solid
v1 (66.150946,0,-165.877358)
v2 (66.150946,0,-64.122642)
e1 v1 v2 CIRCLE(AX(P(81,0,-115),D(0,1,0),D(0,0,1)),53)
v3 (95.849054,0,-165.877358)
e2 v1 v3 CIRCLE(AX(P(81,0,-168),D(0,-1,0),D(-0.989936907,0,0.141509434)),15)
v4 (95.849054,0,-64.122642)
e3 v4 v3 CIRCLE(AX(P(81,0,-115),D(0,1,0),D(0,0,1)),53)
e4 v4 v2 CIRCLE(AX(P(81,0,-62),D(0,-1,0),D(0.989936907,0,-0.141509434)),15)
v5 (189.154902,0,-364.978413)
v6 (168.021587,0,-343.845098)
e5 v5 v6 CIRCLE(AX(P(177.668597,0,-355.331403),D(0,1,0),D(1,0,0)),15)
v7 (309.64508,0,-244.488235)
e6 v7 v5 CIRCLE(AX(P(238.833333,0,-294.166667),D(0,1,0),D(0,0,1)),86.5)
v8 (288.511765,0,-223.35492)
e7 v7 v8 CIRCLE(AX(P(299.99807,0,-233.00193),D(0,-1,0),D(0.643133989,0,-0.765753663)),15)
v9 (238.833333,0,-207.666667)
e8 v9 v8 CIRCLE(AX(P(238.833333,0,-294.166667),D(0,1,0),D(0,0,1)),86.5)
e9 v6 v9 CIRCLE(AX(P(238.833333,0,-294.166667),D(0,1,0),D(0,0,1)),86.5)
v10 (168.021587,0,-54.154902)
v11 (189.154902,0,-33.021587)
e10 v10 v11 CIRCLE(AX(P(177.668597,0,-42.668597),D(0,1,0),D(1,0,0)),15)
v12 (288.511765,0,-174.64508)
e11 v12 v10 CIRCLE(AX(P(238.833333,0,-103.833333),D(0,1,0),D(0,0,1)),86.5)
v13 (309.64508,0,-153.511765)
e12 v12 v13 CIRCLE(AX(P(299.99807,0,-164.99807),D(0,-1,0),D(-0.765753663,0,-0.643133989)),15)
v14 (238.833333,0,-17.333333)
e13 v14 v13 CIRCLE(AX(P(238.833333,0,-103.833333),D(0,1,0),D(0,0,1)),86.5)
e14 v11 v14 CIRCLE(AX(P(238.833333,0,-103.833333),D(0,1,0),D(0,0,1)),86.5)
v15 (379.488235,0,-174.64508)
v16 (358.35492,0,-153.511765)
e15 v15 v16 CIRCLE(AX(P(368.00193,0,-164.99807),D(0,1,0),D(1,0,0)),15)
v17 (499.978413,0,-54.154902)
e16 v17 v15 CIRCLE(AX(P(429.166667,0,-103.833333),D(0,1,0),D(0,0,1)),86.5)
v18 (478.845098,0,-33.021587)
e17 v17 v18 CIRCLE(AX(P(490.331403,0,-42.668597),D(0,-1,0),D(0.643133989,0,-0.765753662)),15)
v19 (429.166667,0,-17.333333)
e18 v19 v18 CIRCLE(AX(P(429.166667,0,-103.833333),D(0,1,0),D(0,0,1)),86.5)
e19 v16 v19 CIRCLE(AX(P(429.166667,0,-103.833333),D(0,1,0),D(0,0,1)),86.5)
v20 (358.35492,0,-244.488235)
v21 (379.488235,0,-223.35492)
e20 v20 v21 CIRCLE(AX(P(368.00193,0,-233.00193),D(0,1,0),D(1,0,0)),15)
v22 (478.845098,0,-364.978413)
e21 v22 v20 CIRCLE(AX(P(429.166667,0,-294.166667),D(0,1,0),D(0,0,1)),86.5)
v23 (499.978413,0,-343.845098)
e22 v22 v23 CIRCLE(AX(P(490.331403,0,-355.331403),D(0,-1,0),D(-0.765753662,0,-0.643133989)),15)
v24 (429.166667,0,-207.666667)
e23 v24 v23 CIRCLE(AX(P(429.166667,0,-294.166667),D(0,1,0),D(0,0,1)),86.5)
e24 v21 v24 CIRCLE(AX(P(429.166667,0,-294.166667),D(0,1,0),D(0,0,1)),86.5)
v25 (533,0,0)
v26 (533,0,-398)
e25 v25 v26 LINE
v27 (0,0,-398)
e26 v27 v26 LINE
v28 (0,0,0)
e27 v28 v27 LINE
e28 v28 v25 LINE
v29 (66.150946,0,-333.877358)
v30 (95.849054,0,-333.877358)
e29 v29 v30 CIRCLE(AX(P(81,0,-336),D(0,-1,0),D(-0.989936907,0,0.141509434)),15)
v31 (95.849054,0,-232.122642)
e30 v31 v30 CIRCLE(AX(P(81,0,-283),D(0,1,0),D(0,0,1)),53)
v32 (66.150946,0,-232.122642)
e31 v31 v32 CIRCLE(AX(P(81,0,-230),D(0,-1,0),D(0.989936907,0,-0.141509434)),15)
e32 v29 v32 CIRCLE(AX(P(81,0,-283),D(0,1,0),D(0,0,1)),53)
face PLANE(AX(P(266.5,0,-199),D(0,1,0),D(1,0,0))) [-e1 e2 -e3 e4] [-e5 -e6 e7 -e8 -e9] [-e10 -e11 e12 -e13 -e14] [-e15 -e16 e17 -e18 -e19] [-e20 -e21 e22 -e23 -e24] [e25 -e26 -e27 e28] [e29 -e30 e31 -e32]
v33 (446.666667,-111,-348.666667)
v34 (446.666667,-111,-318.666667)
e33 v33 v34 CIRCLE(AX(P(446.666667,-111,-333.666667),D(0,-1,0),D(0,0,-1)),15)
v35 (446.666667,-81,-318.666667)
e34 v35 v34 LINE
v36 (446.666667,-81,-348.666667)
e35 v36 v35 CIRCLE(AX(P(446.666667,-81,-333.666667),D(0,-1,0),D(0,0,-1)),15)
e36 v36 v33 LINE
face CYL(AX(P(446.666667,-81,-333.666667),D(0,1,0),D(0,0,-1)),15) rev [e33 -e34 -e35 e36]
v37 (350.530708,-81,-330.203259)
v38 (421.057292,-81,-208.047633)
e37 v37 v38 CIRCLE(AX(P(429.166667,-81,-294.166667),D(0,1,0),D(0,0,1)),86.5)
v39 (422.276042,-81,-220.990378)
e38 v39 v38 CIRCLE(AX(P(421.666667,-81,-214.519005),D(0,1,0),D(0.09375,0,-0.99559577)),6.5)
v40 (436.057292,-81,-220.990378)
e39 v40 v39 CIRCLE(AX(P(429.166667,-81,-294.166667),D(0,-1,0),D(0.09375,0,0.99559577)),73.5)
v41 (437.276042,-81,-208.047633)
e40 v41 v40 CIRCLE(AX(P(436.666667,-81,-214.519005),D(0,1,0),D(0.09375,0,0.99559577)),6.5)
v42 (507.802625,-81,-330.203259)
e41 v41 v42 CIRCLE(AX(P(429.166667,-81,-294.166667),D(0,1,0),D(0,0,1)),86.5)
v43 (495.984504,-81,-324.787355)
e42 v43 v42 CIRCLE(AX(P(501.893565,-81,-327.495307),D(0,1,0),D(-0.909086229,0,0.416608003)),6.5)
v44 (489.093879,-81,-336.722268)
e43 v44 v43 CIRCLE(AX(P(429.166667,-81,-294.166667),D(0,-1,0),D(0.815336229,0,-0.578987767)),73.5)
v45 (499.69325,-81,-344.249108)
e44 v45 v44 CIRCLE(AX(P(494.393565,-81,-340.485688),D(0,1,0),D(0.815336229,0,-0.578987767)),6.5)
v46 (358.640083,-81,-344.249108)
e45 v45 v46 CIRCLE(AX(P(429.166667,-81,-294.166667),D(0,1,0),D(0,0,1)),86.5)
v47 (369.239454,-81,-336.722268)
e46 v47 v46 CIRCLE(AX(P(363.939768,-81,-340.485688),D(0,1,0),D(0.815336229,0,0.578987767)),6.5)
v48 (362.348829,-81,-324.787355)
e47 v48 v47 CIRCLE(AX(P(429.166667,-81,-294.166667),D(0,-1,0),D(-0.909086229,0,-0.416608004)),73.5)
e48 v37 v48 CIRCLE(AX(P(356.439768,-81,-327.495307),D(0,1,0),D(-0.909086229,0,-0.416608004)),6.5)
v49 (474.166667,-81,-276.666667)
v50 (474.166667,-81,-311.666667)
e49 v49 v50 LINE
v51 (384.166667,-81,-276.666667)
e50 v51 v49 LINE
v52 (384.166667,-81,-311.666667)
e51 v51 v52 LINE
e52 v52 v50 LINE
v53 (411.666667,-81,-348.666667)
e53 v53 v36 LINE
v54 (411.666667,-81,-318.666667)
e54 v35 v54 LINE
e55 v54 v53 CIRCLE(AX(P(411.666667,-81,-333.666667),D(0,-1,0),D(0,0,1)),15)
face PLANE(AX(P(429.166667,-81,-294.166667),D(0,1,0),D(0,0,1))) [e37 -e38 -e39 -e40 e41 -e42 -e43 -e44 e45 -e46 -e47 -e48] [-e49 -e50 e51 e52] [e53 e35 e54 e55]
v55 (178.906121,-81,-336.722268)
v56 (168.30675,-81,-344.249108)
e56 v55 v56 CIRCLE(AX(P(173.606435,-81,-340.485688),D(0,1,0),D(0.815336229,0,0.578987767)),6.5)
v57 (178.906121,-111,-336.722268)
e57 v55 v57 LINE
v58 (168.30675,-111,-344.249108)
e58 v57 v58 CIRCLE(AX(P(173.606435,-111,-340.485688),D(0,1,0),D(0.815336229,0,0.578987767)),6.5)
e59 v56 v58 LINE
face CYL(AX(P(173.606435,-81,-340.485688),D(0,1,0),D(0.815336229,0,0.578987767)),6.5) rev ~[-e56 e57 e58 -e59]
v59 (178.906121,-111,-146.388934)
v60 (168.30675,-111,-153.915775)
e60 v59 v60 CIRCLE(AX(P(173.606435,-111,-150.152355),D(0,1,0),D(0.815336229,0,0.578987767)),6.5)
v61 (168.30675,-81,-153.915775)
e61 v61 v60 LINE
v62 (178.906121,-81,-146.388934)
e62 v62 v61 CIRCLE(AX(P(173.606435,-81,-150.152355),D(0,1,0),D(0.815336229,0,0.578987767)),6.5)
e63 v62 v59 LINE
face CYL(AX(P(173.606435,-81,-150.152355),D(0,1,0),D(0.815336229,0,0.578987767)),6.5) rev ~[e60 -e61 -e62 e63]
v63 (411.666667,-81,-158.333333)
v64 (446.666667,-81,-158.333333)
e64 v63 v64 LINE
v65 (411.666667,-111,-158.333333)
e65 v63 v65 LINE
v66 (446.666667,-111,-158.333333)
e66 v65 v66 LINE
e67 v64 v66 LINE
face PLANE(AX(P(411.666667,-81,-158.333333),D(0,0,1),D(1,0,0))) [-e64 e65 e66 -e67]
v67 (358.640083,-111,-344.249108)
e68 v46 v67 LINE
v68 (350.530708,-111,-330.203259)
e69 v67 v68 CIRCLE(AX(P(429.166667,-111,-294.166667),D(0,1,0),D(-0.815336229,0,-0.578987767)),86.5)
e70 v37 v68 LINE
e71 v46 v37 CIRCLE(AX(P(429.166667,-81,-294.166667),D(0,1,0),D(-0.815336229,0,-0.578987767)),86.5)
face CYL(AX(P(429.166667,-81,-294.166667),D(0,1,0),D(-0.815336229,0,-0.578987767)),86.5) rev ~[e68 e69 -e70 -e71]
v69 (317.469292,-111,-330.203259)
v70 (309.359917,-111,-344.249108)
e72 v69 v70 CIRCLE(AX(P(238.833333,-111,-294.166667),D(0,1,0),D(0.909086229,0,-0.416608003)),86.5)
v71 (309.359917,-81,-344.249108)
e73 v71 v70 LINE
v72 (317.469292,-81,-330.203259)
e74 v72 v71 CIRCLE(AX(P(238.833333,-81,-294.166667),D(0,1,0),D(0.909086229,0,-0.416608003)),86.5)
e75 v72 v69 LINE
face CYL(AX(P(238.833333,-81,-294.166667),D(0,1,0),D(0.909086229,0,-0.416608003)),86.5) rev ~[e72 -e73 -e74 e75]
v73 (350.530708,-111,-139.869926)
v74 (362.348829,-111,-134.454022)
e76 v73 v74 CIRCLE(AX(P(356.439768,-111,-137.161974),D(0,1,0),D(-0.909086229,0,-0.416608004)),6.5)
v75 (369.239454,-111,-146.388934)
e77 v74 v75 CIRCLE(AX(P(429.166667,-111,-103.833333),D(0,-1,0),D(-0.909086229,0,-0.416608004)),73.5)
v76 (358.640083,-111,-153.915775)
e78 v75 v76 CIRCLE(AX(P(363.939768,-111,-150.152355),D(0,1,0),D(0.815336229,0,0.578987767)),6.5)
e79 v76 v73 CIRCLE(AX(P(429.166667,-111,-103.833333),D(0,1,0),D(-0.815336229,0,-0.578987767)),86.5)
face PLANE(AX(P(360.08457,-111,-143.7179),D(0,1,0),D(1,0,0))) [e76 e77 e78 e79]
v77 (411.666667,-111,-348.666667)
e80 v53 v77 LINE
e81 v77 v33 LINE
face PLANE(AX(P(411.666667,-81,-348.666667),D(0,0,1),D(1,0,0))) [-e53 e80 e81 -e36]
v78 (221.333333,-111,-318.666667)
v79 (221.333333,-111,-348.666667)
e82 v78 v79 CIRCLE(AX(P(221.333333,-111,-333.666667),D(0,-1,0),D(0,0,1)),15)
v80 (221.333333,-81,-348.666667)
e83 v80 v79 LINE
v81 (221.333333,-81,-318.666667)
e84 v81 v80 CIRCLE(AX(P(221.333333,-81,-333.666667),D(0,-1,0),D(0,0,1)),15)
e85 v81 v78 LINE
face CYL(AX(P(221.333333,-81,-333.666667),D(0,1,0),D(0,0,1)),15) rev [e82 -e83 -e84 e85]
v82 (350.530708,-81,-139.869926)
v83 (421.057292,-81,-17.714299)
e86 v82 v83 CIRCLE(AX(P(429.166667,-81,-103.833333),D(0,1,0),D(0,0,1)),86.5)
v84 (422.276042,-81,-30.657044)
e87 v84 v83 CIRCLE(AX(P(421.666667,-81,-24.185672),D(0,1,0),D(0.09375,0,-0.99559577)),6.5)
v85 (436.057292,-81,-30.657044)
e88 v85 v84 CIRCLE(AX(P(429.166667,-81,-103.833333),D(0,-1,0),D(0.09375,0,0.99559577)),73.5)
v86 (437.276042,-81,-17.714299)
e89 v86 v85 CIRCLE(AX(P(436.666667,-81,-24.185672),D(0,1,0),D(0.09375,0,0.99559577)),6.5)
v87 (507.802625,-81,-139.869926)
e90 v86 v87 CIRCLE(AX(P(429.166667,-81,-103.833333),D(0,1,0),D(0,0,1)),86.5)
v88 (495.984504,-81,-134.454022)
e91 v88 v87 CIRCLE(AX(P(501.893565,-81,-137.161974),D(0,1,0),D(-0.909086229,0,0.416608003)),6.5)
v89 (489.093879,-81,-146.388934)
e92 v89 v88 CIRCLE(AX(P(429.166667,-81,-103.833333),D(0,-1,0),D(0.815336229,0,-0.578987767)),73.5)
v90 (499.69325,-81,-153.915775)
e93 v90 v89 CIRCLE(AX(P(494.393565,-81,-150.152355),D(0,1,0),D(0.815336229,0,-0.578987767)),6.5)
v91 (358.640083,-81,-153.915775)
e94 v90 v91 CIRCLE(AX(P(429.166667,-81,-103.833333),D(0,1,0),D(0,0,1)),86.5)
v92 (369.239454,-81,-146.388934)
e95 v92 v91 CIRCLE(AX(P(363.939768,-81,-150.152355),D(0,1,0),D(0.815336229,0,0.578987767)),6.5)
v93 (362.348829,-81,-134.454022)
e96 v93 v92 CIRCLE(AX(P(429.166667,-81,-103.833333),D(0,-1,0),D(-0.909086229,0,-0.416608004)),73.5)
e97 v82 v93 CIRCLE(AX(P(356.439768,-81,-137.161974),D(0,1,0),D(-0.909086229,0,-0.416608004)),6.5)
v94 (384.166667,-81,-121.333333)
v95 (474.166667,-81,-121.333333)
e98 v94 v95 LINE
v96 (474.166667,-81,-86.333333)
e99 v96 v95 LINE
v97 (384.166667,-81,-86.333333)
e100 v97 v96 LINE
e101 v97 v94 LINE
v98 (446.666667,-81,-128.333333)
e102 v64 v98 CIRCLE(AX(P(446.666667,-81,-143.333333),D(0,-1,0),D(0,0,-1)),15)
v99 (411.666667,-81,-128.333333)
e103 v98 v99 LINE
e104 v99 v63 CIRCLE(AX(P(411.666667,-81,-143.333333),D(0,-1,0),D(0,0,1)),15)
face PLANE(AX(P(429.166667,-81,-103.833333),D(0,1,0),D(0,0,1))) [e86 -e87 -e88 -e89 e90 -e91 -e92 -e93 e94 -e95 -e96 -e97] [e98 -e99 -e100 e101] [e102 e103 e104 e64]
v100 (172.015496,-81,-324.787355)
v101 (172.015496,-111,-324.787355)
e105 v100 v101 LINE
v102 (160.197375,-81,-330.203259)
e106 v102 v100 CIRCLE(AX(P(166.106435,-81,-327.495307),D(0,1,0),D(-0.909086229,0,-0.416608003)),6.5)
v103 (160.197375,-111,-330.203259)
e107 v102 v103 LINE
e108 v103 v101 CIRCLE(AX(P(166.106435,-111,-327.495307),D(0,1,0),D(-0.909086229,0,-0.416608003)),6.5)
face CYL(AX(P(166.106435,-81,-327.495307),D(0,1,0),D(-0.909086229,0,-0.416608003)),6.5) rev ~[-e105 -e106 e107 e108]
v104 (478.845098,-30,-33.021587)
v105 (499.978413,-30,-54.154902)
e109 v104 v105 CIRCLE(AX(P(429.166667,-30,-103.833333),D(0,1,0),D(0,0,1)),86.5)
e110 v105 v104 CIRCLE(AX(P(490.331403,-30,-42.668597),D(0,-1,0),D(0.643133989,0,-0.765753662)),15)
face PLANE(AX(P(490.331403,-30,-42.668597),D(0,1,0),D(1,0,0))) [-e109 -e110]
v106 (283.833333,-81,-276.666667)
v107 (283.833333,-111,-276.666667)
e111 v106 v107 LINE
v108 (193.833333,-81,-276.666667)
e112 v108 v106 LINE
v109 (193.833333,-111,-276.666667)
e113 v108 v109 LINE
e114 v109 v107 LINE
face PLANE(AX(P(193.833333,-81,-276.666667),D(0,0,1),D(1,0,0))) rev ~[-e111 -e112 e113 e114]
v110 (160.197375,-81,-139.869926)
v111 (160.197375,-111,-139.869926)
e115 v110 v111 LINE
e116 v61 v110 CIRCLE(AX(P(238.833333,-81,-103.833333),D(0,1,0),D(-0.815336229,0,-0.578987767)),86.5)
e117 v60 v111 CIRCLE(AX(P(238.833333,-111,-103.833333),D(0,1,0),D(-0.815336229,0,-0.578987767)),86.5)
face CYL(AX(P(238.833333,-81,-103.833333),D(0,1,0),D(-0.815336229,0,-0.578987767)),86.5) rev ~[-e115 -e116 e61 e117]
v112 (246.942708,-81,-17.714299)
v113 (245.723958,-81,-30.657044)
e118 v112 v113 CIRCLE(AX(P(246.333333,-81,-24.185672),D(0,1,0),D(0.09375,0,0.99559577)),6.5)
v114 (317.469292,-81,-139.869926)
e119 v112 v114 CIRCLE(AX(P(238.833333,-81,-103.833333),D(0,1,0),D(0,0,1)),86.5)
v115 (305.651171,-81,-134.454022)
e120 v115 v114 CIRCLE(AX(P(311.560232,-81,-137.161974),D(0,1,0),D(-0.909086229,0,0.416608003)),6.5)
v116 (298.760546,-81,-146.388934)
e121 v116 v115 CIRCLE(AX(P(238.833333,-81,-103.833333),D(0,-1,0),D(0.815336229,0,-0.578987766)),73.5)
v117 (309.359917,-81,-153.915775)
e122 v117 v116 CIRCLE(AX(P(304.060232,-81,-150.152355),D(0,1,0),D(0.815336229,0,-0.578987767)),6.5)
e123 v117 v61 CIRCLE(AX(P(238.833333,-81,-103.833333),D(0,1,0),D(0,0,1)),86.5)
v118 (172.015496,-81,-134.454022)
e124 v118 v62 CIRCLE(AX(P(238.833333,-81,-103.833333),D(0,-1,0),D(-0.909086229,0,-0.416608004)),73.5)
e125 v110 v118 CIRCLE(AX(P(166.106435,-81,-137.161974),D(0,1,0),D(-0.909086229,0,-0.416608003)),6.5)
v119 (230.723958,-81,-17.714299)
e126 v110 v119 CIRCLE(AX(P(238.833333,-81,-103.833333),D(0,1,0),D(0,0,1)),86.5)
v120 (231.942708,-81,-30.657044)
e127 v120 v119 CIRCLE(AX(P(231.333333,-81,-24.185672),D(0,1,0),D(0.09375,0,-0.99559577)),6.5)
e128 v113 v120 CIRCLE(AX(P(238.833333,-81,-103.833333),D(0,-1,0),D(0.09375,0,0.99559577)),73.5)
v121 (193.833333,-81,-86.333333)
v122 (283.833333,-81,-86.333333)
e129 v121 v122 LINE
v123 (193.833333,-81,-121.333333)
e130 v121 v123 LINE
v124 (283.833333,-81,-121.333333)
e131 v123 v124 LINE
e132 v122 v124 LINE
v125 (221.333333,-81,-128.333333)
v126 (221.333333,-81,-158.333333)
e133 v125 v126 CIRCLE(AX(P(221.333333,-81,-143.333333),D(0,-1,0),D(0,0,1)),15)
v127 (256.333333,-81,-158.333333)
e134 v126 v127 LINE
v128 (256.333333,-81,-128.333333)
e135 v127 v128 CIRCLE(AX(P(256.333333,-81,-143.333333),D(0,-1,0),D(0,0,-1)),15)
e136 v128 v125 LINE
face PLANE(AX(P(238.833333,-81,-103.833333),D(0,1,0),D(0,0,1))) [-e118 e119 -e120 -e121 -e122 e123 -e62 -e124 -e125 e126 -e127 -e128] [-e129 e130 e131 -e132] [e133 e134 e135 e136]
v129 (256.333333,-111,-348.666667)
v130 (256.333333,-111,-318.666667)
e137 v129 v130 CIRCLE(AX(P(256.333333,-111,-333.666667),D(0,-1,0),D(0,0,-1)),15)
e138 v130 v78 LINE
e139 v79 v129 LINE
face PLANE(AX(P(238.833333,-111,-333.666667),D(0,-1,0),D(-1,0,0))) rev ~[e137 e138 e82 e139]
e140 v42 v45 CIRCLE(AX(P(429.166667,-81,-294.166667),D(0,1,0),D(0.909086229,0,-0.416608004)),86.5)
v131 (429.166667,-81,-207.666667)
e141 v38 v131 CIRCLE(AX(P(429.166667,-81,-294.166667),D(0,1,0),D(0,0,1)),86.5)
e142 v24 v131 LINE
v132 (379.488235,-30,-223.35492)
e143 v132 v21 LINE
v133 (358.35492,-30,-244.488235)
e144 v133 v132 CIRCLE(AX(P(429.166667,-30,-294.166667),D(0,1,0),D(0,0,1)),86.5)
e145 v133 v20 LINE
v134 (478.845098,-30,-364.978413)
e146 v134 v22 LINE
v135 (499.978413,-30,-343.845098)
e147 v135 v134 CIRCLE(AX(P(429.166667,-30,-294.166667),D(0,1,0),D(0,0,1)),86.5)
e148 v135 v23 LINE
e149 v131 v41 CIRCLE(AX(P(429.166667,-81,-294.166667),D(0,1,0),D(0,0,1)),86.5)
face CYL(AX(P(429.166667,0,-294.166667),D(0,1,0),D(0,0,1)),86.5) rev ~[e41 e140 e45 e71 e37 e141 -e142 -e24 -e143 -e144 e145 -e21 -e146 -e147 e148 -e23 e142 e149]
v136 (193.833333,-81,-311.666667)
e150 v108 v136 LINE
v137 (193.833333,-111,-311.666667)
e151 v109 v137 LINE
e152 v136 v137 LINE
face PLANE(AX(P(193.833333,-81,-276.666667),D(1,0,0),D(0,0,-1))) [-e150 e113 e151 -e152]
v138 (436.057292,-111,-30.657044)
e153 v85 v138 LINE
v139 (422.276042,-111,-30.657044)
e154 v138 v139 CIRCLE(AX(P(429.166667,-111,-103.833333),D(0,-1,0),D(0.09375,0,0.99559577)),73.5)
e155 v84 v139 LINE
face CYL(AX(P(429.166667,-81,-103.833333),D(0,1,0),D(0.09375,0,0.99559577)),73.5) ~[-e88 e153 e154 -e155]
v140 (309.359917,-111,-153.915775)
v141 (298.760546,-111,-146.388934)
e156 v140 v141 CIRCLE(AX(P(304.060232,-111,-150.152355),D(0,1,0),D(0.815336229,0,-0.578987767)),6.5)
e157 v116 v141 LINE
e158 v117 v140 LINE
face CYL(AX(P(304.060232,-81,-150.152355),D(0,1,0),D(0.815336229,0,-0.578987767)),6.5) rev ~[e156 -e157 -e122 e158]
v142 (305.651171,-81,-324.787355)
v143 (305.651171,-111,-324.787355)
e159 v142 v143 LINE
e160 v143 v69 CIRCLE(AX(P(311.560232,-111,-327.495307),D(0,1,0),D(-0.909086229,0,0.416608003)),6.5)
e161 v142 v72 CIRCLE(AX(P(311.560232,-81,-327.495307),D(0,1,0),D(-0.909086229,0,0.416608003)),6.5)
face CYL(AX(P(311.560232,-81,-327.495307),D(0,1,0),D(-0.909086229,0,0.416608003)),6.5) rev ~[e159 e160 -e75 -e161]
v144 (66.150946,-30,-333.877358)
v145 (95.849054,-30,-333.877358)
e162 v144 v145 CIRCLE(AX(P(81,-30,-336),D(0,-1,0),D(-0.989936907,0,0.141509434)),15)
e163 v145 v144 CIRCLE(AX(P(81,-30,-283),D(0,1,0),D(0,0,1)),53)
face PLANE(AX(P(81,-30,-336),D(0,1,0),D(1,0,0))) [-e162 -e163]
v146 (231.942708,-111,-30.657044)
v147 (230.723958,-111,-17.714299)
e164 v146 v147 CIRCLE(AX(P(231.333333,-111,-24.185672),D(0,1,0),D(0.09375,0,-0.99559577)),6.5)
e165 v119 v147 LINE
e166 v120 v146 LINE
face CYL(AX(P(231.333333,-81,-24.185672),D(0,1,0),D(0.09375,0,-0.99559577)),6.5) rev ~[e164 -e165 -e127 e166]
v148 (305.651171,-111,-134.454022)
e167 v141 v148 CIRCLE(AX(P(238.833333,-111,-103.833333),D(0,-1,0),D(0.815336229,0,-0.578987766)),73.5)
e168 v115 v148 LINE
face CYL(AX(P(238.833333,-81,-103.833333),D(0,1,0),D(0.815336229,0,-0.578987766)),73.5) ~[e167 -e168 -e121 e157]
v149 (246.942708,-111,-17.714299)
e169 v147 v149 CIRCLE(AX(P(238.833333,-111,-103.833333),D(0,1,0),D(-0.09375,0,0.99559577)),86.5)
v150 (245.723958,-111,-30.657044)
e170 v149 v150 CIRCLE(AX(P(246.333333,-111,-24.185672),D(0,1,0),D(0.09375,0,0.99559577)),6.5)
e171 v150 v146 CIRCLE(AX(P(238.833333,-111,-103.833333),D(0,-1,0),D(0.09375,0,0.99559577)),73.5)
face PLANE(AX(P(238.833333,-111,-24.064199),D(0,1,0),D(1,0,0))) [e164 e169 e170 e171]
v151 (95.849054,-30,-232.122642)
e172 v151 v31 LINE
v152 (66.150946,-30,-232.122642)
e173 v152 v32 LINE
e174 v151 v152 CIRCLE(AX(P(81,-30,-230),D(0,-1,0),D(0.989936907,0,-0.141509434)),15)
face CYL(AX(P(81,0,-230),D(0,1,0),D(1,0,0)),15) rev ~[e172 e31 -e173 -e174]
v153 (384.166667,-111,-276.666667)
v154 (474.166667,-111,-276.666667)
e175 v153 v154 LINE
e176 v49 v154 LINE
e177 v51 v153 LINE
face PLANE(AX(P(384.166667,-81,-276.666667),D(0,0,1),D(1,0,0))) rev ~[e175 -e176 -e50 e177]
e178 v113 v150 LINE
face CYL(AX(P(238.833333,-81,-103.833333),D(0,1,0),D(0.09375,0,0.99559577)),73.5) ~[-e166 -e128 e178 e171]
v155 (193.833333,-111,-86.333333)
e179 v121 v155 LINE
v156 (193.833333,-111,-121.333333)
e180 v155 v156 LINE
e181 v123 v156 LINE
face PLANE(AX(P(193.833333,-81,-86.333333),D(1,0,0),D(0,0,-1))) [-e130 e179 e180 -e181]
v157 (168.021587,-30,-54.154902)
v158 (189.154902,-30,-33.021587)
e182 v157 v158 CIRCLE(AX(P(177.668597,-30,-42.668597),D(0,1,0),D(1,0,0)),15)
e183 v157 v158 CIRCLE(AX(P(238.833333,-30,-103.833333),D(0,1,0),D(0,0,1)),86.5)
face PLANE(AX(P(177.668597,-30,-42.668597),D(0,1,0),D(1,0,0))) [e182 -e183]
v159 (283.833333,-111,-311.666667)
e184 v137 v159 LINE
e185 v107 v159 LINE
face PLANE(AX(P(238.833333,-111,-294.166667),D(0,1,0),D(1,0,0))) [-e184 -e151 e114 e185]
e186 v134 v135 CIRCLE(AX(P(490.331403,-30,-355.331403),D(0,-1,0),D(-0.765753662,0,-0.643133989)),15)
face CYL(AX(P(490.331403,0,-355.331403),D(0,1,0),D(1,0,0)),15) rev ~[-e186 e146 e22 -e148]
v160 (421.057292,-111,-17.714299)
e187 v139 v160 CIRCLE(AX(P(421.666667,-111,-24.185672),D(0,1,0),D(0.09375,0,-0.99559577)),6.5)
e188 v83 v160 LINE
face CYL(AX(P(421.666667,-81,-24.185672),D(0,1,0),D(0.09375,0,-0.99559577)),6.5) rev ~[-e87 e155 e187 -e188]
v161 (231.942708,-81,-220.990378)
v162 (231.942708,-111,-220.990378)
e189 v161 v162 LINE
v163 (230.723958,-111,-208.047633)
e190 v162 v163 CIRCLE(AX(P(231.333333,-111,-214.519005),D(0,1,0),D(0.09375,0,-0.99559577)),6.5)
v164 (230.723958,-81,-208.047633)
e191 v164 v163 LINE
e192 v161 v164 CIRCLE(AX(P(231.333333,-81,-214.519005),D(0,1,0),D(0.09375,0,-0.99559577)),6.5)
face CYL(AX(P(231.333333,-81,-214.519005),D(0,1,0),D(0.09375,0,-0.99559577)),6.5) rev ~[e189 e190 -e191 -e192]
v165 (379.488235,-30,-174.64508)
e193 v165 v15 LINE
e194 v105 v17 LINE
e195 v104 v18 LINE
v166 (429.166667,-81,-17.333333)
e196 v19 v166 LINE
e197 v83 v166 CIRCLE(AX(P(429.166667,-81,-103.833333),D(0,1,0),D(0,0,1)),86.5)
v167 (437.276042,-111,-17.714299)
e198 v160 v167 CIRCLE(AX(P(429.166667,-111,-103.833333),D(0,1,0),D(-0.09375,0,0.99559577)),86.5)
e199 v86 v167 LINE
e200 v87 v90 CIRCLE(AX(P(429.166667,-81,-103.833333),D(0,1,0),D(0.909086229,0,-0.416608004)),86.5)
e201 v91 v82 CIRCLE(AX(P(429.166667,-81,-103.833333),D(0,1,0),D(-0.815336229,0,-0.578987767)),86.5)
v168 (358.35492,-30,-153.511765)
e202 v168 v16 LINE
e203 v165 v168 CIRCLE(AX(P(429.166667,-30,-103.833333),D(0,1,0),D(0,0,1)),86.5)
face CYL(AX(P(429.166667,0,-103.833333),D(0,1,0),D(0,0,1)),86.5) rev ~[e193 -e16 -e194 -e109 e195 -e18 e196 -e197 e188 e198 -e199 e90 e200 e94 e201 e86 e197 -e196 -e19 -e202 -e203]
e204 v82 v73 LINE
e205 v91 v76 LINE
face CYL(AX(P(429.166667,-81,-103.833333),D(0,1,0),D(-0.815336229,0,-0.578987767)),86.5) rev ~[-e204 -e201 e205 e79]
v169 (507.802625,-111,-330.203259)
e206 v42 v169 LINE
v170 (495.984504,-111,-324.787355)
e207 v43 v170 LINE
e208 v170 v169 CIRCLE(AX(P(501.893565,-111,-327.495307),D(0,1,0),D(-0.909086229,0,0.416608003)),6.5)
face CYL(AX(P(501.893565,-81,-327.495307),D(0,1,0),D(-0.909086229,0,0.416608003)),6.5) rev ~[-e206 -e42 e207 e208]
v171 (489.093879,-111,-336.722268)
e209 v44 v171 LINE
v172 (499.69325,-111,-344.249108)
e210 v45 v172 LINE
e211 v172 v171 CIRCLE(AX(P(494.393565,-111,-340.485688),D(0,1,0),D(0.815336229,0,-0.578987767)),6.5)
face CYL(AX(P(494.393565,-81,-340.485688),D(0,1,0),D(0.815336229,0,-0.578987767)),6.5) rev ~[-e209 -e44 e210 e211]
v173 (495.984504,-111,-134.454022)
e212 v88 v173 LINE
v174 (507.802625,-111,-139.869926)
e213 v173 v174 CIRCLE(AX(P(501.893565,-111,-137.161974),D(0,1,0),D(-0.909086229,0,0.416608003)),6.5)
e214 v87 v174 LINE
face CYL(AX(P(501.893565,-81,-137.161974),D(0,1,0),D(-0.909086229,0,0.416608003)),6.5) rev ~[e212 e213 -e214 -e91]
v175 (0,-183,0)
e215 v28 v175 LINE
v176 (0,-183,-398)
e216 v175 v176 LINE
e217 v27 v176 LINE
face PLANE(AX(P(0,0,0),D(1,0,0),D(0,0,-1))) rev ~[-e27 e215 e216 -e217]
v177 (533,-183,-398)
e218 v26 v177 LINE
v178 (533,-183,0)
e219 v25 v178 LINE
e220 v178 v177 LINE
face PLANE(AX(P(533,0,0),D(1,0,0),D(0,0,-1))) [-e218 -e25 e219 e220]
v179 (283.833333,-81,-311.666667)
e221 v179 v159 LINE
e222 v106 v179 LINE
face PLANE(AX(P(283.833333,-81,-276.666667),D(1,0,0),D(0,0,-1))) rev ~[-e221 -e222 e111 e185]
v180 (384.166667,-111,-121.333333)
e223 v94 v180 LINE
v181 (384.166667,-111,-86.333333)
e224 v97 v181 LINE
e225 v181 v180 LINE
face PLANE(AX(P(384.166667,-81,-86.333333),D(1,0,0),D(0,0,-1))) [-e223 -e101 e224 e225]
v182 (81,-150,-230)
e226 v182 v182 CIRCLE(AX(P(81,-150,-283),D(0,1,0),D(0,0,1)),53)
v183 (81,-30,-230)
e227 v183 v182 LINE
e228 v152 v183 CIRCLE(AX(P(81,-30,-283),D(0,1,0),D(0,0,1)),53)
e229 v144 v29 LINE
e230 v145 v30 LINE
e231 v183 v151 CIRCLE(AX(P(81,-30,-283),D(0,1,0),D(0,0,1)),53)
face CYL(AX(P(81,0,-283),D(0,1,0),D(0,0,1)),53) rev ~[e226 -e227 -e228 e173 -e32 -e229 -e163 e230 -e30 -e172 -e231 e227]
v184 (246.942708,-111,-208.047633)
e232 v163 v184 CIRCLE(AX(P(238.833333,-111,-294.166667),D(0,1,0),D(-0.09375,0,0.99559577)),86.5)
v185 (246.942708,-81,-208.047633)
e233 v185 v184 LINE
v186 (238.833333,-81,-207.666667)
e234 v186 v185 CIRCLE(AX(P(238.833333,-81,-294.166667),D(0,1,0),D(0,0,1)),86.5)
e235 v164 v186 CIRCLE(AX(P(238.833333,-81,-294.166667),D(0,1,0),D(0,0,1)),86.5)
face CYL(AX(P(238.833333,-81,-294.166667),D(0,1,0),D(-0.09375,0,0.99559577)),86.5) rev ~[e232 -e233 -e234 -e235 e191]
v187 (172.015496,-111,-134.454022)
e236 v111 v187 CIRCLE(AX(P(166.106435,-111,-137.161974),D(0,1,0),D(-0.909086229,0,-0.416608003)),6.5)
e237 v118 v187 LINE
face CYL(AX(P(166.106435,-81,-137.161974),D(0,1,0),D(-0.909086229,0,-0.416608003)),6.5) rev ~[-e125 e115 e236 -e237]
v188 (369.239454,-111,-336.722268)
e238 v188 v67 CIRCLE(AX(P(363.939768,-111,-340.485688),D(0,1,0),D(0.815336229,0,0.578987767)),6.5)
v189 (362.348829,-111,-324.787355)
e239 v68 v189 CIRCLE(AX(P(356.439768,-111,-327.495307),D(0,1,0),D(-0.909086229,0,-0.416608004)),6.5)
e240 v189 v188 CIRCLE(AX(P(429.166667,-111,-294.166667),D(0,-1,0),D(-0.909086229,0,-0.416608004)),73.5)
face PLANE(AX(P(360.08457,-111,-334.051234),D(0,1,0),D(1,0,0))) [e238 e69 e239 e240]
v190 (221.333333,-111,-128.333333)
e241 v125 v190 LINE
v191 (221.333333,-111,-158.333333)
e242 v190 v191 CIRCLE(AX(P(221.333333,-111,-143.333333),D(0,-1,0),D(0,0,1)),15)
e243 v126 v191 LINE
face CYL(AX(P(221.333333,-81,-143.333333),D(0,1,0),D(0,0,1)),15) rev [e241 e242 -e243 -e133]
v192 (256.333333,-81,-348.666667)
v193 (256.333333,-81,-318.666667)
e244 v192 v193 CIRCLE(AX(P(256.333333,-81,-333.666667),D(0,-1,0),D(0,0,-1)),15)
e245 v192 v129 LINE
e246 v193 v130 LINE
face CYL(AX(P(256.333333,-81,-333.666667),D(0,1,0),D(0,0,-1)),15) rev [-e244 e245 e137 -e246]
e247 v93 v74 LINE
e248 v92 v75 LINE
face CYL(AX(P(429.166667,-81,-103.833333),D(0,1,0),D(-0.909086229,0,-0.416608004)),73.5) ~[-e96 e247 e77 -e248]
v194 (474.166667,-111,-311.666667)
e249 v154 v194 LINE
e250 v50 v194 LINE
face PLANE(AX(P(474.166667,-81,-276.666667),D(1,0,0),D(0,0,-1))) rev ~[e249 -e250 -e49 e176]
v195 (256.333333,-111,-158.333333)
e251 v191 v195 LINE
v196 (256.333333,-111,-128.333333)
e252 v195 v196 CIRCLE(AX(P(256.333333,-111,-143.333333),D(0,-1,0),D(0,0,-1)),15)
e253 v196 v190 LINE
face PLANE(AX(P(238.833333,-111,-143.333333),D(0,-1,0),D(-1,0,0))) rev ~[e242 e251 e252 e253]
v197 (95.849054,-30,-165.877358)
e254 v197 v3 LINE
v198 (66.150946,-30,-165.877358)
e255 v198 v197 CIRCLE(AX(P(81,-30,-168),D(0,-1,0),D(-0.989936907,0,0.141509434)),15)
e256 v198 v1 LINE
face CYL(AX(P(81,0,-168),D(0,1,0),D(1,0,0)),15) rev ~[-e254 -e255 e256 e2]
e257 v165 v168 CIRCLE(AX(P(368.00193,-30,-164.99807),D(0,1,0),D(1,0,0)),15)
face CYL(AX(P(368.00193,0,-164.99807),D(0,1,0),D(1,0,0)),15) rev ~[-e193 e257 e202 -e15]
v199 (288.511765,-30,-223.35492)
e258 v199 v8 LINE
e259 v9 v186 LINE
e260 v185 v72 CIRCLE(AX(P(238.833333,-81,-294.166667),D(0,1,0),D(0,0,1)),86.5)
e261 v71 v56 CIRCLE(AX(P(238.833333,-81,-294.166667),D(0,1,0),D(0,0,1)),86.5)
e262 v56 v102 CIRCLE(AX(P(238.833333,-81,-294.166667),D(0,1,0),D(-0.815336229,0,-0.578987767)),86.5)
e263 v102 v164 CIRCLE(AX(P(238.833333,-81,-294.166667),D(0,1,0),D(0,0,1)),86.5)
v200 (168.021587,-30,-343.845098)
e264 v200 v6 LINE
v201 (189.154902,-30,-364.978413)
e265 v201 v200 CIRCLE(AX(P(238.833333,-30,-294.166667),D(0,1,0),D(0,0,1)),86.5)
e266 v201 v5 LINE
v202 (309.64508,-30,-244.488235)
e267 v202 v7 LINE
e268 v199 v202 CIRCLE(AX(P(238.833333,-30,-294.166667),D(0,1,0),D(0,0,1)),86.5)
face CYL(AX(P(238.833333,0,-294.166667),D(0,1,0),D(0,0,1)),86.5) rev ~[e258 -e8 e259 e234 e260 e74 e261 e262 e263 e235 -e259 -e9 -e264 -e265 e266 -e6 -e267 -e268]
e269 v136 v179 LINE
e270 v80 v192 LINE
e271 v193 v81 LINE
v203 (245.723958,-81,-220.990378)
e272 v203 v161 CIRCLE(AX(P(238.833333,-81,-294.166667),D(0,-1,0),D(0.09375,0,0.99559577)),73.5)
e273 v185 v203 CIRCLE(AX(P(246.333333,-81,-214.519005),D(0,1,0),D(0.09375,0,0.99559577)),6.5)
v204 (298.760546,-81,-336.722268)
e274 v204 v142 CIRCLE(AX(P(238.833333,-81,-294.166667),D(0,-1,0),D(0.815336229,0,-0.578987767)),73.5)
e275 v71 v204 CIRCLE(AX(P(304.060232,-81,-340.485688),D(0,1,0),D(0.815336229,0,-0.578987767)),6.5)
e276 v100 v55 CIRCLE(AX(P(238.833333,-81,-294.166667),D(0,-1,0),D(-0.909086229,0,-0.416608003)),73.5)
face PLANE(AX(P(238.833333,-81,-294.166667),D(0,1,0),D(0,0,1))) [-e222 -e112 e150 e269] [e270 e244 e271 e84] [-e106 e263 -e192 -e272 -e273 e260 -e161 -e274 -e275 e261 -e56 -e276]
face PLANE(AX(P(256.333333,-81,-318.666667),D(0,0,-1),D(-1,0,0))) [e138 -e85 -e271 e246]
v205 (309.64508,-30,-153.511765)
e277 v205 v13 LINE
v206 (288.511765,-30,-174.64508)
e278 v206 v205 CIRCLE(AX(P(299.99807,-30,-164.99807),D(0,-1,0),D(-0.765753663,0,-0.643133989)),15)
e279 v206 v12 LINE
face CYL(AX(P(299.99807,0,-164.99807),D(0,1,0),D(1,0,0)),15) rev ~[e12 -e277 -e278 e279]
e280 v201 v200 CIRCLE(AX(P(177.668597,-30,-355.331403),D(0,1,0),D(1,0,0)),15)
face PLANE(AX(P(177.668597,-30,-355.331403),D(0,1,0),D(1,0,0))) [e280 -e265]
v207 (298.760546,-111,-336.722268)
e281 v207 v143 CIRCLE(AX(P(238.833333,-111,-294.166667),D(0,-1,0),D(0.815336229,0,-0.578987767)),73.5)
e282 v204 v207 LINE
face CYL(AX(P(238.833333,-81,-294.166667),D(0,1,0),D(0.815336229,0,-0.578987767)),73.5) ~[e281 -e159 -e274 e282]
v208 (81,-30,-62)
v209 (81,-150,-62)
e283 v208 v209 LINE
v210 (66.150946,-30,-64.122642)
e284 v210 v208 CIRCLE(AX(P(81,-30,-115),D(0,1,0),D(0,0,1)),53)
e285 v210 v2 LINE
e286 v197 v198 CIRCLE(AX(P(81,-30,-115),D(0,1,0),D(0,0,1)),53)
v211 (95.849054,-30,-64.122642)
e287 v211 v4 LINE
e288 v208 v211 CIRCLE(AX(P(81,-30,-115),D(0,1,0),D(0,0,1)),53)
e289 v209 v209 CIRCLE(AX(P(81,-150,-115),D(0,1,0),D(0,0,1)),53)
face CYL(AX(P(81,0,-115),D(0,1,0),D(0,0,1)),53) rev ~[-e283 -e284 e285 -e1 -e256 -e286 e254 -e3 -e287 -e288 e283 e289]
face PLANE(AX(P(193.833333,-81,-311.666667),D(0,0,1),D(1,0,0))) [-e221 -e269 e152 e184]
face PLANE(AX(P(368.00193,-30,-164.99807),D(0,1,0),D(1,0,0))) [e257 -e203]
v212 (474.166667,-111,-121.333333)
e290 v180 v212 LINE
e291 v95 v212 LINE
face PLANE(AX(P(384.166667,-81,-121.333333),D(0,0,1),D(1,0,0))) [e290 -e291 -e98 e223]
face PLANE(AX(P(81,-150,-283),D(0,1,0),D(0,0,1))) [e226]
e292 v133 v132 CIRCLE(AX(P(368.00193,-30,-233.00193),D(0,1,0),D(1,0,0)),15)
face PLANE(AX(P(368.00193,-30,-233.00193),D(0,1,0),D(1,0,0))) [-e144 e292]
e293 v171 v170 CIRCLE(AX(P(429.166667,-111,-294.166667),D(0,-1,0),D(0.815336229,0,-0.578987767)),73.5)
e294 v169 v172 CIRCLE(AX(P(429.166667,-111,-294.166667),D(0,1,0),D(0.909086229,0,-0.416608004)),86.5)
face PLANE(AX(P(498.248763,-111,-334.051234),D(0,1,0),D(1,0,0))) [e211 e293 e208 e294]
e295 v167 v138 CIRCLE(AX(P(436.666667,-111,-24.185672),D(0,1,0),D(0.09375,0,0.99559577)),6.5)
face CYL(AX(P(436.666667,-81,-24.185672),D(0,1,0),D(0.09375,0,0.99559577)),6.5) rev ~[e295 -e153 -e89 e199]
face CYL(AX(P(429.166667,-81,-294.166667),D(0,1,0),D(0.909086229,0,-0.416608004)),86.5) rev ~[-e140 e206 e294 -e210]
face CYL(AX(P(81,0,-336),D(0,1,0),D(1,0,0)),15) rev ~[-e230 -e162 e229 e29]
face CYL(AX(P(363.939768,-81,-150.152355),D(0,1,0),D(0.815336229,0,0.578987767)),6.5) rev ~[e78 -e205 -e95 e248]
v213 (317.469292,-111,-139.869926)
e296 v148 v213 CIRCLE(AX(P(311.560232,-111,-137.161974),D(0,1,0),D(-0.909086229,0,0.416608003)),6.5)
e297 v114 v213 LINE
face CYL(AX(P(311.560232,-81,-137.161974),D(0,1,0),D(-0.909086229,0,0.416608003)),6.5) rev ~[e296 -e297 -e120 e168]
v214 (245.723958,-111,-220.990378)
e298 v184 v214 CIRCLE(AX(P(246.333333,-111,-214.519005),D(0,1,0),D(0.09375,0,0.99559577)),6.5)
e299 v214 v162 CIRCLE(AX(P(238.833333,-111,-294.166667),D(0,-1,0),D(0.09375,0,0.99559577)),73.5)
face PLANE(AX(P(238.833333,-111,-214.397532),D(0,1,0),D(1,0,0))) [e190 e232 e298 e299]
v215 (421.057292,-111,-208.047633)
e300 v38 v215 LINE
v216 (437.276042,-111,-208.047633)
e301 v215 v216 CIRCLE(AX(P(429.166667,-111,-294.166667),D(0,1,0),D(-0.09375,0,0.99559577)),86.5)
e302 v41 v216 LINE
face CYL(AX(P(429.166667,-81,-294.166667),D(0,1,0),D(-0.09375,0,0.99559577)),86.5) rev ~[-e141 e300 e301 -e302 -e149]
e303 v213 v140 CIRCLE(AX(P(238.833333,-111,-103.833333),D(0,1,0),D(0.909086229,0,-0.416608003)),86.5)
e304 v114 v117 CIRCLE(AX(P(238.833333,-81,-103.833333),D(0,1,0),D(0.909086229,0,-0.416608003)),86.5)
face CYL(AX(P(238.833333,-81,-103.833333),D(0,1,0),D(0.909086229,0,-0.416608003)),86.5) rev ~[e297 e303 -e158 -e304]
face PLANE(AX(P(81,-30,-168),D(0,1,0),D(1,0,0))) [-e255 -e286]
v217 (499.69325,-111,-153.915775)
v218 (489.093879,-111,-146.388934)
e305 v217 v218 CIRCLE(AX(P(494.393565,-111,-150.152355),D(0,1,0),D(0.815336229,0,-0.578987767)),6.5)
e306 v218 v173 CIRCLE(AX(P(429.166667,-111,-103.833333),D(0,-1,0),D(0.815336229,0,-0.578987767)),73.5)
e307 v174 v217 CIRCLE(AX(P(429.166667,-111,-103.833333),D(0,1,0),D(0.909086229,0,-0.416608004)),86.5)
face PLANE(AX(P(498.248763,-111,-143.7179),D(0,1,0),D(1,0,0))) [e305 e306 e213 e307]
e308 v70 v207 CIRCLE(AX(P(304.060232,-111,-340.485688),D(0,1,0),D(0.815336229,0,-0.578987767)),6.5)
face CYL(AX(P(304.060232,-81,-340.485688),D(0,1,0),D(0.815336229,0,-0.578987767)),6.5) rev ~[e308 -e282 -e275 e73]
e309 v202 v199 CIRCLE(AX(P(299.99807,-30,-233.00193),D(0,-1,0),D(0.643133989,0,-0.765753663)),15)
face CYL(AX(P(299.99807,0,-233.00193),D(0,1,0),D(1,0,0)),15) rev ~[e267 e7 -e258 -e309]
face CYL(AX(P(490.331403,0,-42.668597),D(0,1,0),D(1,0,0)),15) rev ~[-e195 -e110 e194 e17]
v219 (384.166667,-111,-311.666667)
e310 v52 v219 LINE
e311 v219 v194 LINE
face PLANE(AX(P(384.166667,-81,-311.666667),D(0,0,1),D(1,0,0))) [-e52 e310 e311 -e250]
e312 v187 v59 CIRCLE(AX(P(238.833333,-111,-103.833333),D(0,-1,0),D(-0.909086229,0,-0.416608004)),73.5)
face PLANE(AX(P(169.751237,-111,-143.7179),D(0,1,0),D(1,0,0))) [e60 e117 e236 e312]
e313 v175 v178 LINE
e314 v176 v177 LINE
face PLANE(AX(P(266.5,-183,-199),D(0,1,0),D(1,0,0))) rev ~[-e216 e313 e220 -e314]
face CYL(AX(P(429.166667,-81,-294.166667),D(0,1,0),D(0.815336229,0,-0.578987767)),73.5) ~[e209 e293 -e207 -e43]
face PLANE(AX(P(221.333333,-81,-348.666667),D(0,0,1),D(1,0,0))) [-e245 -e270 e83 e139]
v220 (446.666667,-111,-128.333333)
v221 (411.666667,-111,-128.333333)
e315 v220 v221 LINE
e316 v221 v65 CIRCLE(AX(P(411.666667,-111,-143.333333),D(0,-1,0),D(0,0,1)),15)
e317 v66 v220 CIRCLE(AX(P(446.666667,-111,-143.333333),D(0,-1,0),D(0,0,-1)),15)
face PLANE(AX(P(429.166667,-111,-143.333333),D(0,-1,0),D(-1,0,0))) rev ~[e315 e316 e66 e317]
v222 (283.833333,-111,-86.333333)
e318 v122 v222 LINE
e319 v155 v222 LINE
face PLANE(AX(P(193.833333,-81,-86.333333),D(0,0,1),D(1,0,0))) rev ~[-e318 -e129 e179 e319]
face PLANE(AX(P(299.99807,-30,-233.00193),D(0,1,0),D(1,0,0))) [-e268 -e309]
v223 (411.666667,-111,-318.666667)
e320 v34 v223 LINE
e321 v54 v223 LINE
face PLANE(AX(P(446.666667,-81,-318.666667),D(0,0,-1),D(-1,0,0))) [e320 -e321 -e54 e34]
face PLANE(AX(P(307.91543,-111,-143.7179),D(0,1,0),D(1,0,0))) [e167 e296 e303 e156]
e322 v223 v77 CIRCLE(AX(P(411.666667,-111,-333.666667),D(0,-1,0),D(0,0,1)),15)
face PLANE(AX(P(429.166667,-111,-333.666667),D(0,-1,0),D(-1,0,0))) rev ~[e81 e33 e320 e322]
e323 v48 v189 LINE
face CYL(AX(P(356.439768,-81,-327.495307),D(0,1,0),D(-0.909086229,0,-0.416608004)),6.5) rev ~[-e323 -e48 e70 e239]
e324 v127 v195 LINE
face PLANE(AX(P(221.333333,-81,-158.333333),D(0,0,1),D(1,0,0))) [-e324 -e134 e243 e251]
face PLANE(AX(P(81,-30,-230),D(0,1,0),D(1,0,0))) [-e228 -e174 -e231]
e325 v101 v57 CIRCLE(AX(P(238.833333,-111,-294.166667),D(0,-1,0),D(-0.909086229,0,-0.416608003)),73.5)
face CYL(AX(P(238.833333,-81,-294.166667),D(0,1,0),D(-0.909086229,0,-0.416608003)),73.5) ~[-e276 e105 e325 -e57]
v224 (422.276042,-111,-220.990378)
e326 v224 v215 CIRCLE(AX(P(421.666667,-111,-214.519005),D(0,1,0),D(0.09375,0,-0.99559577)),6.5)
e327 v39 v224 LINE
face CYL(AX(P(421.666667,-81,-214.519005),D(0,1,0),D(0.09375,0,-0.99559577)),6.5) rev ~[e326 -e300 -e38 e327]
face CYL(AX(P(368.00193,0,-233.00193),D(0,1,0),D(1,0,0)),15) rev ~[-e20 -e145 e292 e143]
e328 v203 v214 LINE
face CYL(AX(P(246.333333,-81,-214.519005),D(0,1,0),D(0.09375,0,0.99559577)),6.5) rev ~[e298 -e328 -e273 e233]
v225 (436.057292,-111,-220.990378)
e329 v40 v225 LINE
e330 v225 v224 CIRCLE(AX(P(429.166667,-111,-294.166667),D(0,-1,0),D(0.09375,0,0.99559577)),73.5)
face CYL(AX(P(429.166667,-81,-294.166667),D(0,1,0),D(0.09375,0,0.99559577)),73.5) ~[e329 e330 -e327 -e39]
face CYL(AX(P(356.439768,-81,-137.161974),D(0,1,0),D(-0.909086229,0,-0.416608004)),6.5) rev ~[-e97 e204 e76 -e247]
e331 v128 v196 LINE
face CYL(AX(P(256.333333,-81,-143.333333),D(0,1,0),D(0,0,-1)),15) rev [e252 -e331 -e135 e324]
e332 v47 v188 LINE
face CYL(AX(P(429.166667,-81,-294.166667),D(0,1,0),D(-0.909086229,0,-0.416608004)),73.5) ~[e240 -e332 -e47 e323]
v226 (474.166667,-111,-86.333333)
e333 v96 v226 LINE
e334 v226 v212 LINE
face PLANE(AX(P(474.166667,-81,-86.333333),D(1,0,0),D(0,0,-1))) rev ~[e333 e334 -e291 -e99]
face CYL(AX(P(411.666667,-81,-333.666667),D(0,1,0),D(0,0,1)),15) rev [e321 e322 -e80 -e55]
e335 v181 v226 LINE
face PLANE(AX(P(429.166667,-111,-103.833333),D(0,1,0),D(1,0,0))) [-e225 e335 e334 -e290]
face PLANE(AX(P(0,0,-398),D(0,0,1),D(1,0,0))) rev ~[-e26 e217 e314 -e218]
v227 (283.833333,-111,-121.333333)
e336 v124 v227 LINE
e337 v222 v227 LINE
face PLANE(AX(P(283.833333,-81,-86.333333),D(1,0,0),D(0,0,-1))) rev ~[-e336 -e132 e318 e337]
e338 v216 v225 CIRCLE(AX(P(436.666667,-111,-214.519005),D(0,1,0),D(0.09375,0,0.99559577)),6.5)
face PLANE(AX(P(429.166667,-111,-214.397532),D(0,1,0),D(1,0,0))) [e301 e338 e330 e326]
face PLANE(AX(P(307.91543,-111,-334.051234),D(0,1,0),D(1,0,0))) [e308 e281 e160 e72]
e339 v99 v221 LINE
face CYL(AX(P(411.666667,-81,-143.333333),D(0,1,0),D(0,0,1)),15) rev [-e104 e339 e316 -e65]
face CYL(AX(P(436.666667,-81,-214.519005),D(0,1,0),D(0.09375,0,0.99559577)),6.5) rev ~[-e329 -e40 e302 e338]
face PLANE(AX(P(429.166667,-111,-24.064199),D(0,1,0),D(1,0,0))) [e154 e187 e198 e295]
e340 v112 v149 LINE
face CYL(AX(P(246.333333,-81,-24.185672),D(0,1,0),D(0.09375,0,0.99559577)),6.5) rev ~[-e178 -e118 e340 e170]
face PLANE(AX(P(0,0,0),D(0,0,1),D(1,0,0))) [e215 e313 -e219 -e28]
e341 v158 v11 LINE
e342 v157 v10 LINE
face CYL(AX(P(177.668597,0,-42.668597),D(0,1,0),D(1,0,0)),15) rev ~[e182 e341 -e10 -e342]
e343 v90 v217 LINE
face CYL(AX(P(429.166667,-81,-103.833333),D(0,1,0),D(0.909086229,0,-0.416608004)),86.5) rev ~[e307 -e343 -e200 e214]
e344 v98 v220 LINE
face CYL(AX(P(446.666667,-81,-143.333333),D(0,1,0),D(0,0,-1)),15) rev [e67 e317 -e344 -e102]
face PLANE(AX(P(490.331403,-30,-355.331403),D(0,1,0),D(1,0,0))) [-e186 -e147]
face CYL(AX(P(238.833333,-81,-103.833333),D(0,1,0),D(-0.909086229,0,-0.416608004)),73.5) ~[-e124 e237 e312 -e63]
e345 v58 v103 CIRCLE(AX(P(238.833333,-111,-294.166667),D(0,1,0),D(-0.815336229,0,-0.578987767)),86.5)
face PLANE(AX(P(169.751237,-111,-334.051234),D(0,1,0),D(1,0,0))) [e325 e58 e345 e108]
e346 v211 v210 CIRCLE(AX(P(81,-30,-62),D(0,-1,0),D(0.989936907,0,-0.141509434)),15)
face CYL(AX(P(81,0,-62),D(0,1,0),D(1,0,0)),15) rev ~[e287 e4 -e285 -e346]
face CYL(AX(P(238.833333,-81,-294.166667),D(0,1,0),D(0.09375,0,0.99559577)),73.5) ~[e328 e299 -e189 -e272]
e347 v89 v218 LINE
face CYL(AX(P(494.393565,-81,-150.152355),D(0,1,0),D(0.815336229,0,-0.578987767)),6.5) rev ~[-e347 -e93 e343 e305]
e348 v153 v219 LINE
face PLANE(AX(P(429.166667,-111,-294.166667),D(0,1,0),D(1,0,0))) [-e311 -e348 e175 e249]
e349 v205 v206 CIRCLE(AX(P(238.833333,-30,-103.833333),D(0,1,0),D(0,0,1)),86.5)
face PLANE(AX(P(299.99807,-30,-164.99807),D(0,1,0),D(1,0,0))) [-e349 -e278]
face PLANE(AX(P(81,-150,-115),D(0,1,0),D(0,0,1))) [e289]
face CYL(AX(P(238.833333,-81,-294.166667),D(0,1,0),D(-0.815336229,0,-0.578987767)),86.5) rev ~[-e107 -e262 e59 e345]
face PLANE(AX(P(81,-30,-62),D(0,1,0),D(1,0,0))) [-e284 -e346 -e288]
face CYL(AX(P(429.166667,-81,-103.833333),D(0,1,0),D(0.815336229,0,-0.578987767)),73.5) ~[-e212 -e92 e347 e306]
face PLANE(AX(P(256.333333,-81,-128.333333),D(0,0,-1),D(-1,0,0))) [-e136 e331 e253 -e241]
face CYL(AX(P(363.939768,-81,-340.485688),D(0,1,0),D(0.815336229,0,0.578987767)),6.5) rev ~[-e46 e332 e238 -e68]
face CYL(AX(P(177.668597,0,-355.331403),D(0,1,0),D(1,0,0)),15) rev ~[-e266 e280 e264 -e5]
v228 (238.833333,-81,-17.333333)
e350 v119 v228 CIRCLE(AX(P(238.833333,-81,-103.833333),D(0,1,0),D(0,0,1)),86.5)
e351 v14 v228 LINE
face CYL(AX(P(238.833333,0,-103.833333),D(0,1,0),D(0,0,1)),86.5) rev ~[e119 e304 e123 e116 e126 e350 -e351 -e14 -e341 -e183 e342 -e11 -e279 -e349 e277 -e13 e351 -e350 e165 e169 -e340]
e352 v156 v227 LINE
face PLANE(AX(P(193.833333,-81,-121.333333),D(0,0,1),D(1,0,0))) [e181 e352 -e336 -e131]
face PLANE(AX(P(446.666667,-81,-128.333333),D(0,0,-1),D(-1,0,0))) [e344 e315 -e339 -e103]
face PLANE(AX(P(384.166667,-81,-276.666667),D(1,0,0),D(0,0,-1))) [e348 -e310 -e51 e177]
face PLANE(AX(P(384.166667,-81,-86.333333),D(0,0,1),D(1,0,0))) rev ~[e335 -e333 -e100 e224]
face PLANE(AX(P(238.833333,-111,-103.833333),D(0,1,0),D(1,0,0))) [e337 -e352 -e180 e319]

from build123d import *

# Parameters (mm, degrees)
SKETCH_1_W              = 533
SKETCH_1_H              = 398
EXTRUDE_286_DEPTH       = 183
SKETCH_2_R              = 86.5
CUT_EXTRUDE_597_DEPTH   = 81
SKETCH_3_R              = 53
CUT_EXTRUDE_101_DEPTH   = 150
SKETCH_4_R              = 15
CUT_EXTRUDE_1795_DEPTH  = 30
SKETCH_5_W              = 90
SKETCH_5_H              = 35
CUT_EXTRUDE_2164_DEPTH  = 30
CUT_EXTRUDE_597_2_DEPTH = 30


with BuildPart() as part:
    # Эскиз1 → Extrude 286 (new body)
    with BuildSketch(Plane(origin=(0, 0, 0), x_dir=(1, 0, 0), z_dir=(0, 1, 0))):
        with Locations((266.5, 199)):
            Rectangle(SKETCH_1_W, SKETCH_1_H)
    extrude(amount=-EXTRUDE_286_DEPTH)

    # Эскиз2 → Cut-Extrude 597 (cut)
    with BuildSketch(Plane(origin=(0, 0, 0), x_dir=(1, 0, 0), z_dir=(0, 1, 0))):
        with Locations(Location((429.166666667, 103.833333333, 0), (0, 0, 270))):
            Circle(SKETCH_2_R)
        with Locations(Location((238.833333333, 103.833333333, 0), (0, 0, 270))):
            Circle(SKETCH_2_R)
        with Locations(Location((238.833333333, 294.166666667, 0), (0, 0, 270))):
            Circle(SKETCH_2_R)
        with Locations(Location((429.166666667, 294.166666667, 0), (0, 0, 270))):
            Circle(SKETCH_2_R)
    extrude(amount=-CUT_EXTRUDE_597_DEPTH, mode=Mode.SUBTRACT)

    # Эскиз3 → КМЕ-101 (cut)
    with BuildSketch(Plane(origin=(0, 0, 0), x_dir=(1, 0, 0), z_dir=(0, 1, 0))):
        with Locations(Location((81, 283, 0), (0, 0, 270))):
            Circle(SKETCH_3_R)
        with Locations(Location((81, 115, 0), (0, 0, 270))):
            Circle(SKETCH_3_R)
    extrude(amount=-CUT_EXTRUDE_101_DEPTH, mode=Mode.SUBTRACT)

    # Эскиз4 → Cut-Extrude 1795 (cut)
    with BuildSketch(Plane(origin=(0, 0, 0), x_dir=(1, 0, 0), z_dir=(0, 1, 0))):
        with Locations((81, 336)):
            Circle(SKETCH_4_R)
        with Locations((81, 230)):
            Circle(SKETCH_4_R)
        with Locations((81, 168)):
            Circle(SKETCH_4_R)
        with Locations((81, 62)):
            Circle(SKETCH_4_R)
        with Locations((299.998069906, 233.001930094)):
            Circle(SKETCH_4_R)
        with Locations((177.668596761, 355.331403239)):
            Circle(SKETCH_4_R)
        with Locations((368.001930094, 233.001930094)):
            Circle(SKETCH_4_R)
        with Locations((490.331403239, 355.331403239)):
            Circle(SKETCH_4_R)
        with Locations((368.001930094, 164.998069906)):
            Circle(SKETCH_4_R)
        with Locations((490.331403239, 42.668596761)):
            Circle(SKETCH_4_R)
        with Locations((299.998069906, 164.998069906)):
            Circle(SKETCH_4_R)
        with Locations((177.668596761, 42.668596761)):
            Circle(SKETCH_4_R)
    extrude(amount=-CUT_EXTRUDE_1795_DEPTH, mode=Mode.SUBTRACT)

    # Эскиз5 → Cut-Extrude 2164 (cut)
    with BuildSketch(Plane(origin=(0, -81, 0), x_dir=(1, 0, 0), z_dir=(0, 1, 0))):
        with Locations((429.166666667, 294.166666667)):
            Rectangle(SKETCH_5_W, SKETCH_5_H)
        with Locations((238.833333333, 294.166666667)):
            Rectangle(SKETCH_5_W, SKETCH_5_H)
        with Locations((429.166666667, 103.833333333)):
            Rectangle(SKETCH_5_W, SKETCH_5_H)
        with Locations((238.833333333, 103.833333333)):
            Rectangle(SKETCH_5_W, SKETCH_5_H)
    extrude(amount=-CUT_EXTRUDE_2164_DEPTH, mode=Mode.SUBTRACT)

    # Эскиз6 → Cut-Extrude 597 2 (cut)
    with BuildSketch(Plane(origin=(0, -81, 0), x_dir=(1, 0, 0), z_dir=(0, 1, 0))):
        with BuildLine():
            Line((221.333333333, 348.666666667), (256.333333333, 348.666666667))
            ThreePointArc((256.333333333, 348.666666667), (271.333333333, 333.666666667), (256.333333333, 318.666666667))
            Line((256.333333333, 318.666666667), (221.333333333, 318.666666667))
            ThreePointArc((221.333333333, 318.666666667), (206.333333333, 333.666666667), (221.333333333, 348.666666667))
        make_face()
        with BuildLine():
            Line((411.666666667, 348.666666667), (446.666666667, 348.666666667))
            ThreePointArc((446.666666667, 348.666666667), (461.666666667, 333.666666667), (446.666666667, 318.666666667))
            Line((446.666666667, 318.666666667), (411.666666667, 318.666666667))
            ThreePointArc((411.666666667, 318.666666667), (396.666666667, 333.666666667), (411.666666667, 348.666666667))
        make_face()
        with BuildLine():
            Line((411.666666667, 158.333333333), (446.666666667, 158.333333333))
            ThreePointArc((446.666666667, 158.333333333), (461.666666667, 143.333333333), (446.666666667, 128.333333333))
            Line((446.666666667, 128.333333333), (411.666666667, 128.333333333))
            ThreePointArc((411.666666667, 128.333333333), (396.666666667, 143.333333333), (411.666666667, 158.333333333))
        make_face()
        with BuildLine():
            Line((221.333333333, 158.333333333), (256.333333333, 158.333333333))
            ThreePointArc((256.333333333, 158.333333333), (271.333333333, 143.333333333), (256.333333333, 128.333333333))
            Line((256.333333333, 128.333333333), (221.333333333, 128.333333333))
            ThreePointArc((221.333333333, 128.333333333), (206.333333333, 143.333333333), (221.333333333, 158.333333333))
        make_face()
        with BuildLine():
            ThreePointArc((317.469292127, 330.203258966), (313.744530761, 337.416666667), (309.359917127, 344.249108484))
            ThreePointArc((309.359917127, 344.249108484), (300.296811157, 345.785373488), (298.760546153, 336.722267517))
            ThreePointArc((298.760546153, 336.722267517), (302.486200511, 330.916666667), (305.651171153, 324.787354921))
            ThreePointArc((305.651171153, 324.787354921), (314.268183662, 321.586246456), (317.469292127, 330.203258966))
        make_face()
        with BuildLine():
            ThreePointArc((168.306749539, 344.249108484), (163.922135906, 337.416666667), (160.197374539, 330.203258966))
            ThreePointArc((160.197374539, 330.203258966), (163.398483004, 321.586246456), (172.015495514, 324.787354921))
            ThreePointArc((172.015495514, 324.787354921), (175.180466155, 330.916666667), (178.906120514, 336.722267517))
            ThreePointArc((178.906120514, 336.722267517), (177.36985551, 345.785373488), (168.306749539, 344.249108484))
        make_face()
        with BuildLine():
            ThreePointArc((230.723958333, 208.04763255), (238.833333333, 207.666666667), (246.942708333, 208.04763255))
            ThreePointArc((246.942708333, 208.04763255), (252.804705839, 215.128380056), (245.723958333, 220.990377562))
            ThreePointArc((245.723958333, 220.990377562), (238.833333333, 220.666666667), (231.942708333, 220.990377562))
            ThreePointArc((231.942708333, 220.990377562), (224.861960827, 215.128380056), (230.723958333, 208.04763255))
        make_face()
        with BuildLine():
            ThreePointArc((358.640082873, 344.249108484), (354.255469239, 337.416666667), (350.530707873, 330.203258966))
            ThreePointArc((350.530707873, 330.203258966), (353.731816338, 321.586246456), (362.348828847, 324.787354921))
            ThreePointArc((362.348828847, 324.787354921), (365.513799489, 330.916666667), (369.239453847, 336.722267517))
            ThreePointArc((369.239453847, 336.722267517), (367.703188843, 345.785373488), (358.640082873, 344.249108484))
        make_face()
        with BuildLine():
            ThreePointArc((507.802625461, 330.203258966), (504.077864094, 337.416666667), (499.693250461, 344.249108484))
            ThreePointArc((499.693250461, 344.249108484), (490.63014449, 345.785373488), (489.093879486, 336.722267517))
            ThreePointArc((489.093879486, 336.722267517), (492.819533845, 330.916666667), (495.984504486, 324.787354921))
            ThreePointArc((495.984504486, 324.787354921), (504.601516996, 321.586246456), (507.802625461, 330.203258966))
        make_face()
        with BuildLine():
            ThreePointArc((421.057291667, 208.04763255), (429.166666667, 207.666666667), (437.276041667, 208.04763255))
            ThreePointArc((437.276041667, 208.04763255), (443.138039173, 215.128380056), (436.057291667, 220.990377562))
            ThreePointArc((436.057291667, 220.990377562), (429.166666667, 220.666666667), (422.276041667, 220.990377562))
            ThreePointArc((422.276041667, 220.990377562), (415.195294161, 215.128380056), (421.057291667, 208.04763255))
        make_face()
        with BuildLine():
            ThreePointArc((358.640082873, 153.91577515), (354.255469239, 147.083333333), (350.530707873, 139.869925633))
            ThreePointArc((350.530707873, 139.869925633), (353.731816338, 131.252913123), (362.348828847, 134.454021588))
            ThreePointArc((362.348828847, 134.454021588), (365.513799489, 140.583333333), (369.239453847, 146.388934184))
            ThreePointArc((369.239453847, 146.388934184), (367.703188843, 155.452040154), (358.640082873, 153.91577515))
        make_face()
        with BuildLine():
            ThreePointArc((507.802625461, 139.869925633), (504.077864094, 147.083333333), (499.693250461, 153.91577515))
            ThreePointArc((499.693250461, 153.91577515), (490.63014449, 155.452040154), (489.093879486, 146.388934184))
            ThreePointArc((489.093879486, 146.388934184), (492.819533845, 140.583333333), (495.984504486, 134.454021588))
            ThreePointArc((495.984504486, 134.454021588), (504.601516996, 131.252913123), (507.802625461, 139.869925633))
        make_face()
        with BuildLine():
            ThreePointArc((421.057291667, 17.714299217), (429.166666667, 17.333333333), (437.276041667, 17.714299217))
            ThreePointArc((437.276041667, 17.714299217), (443.138039173, 24.795046723), (436.057291667, 30.657044229))
            ThreePointArc((436.057291667, 30.657044229), (429.166666667, 30.333333333), (422.276041667, 30.657044229))
            ThreePointArc((422.276041667, 30.657044229), (415.195294161, 24.795046723), (421.057291667, 17.714299217))
        make_face()
        with BuildLine():
            ThreePointArc((168.306749539, 153.91577515), (163.922135906, 147.083333333), (160.197374539, 139.869925633))
            ThreePointArc((160.197374539, 139.869925633), (163.398483004, 131.252913123), (172.015495514, 134.454021588))
            ThreePointArc((172.015495514, 134.454021588), (175.180466155, 140.583333333), (178.906120514, 146.388934184))
            ThreePointArc((178.906120514, 146.388934184), (177.36985551, 155.452040154), (168.306749539, 153.91577515))
        make_face()
        with BuildLine():
            ThreePointArc((317.469292127, 139.869925633), (313.744530761, 147.083333333), (309.359917127, 153.91577515))
            ThreePointArc((309.359917127, 153.91577515), (300.296811157, 155.452040154), (298.760546153, 146.388934184))
            ThreePointArc((298.760546153, 146.388934184), (302.486200511, 140.583333333), (305.651171153, 134.454021588))
            ThreePointArc((305.651171153, 134.454021588), (314.268183662, 131.252913123), (317.469292127, 139.869925633))
        make_face()
        with BuildLine():
            ThreePointArc((230.723958333, 17.714299217), (238.833333333, 17.333333333), (246.942708333, 17.714299217))
            ThreePointArc((246.942708333, 17.714299217), (252.804705839, 24.795046723), (245.723958333, 30.657044229))
            ThreePointArc((245.723958333, 30.657044229), (238.833333333, 30.333333333), (231.942708333, 30.657044229))
            ThreePointArc((231.942708333, 30.657044229), (224.861960827, 24.795046723), (230.723958333, 17.714299217))
        make_face()
    extrude(amount=-CUT_EXTRUDE_597_2_DEPTH, mode=Mode.SUBTRACT)


solid = part.part
